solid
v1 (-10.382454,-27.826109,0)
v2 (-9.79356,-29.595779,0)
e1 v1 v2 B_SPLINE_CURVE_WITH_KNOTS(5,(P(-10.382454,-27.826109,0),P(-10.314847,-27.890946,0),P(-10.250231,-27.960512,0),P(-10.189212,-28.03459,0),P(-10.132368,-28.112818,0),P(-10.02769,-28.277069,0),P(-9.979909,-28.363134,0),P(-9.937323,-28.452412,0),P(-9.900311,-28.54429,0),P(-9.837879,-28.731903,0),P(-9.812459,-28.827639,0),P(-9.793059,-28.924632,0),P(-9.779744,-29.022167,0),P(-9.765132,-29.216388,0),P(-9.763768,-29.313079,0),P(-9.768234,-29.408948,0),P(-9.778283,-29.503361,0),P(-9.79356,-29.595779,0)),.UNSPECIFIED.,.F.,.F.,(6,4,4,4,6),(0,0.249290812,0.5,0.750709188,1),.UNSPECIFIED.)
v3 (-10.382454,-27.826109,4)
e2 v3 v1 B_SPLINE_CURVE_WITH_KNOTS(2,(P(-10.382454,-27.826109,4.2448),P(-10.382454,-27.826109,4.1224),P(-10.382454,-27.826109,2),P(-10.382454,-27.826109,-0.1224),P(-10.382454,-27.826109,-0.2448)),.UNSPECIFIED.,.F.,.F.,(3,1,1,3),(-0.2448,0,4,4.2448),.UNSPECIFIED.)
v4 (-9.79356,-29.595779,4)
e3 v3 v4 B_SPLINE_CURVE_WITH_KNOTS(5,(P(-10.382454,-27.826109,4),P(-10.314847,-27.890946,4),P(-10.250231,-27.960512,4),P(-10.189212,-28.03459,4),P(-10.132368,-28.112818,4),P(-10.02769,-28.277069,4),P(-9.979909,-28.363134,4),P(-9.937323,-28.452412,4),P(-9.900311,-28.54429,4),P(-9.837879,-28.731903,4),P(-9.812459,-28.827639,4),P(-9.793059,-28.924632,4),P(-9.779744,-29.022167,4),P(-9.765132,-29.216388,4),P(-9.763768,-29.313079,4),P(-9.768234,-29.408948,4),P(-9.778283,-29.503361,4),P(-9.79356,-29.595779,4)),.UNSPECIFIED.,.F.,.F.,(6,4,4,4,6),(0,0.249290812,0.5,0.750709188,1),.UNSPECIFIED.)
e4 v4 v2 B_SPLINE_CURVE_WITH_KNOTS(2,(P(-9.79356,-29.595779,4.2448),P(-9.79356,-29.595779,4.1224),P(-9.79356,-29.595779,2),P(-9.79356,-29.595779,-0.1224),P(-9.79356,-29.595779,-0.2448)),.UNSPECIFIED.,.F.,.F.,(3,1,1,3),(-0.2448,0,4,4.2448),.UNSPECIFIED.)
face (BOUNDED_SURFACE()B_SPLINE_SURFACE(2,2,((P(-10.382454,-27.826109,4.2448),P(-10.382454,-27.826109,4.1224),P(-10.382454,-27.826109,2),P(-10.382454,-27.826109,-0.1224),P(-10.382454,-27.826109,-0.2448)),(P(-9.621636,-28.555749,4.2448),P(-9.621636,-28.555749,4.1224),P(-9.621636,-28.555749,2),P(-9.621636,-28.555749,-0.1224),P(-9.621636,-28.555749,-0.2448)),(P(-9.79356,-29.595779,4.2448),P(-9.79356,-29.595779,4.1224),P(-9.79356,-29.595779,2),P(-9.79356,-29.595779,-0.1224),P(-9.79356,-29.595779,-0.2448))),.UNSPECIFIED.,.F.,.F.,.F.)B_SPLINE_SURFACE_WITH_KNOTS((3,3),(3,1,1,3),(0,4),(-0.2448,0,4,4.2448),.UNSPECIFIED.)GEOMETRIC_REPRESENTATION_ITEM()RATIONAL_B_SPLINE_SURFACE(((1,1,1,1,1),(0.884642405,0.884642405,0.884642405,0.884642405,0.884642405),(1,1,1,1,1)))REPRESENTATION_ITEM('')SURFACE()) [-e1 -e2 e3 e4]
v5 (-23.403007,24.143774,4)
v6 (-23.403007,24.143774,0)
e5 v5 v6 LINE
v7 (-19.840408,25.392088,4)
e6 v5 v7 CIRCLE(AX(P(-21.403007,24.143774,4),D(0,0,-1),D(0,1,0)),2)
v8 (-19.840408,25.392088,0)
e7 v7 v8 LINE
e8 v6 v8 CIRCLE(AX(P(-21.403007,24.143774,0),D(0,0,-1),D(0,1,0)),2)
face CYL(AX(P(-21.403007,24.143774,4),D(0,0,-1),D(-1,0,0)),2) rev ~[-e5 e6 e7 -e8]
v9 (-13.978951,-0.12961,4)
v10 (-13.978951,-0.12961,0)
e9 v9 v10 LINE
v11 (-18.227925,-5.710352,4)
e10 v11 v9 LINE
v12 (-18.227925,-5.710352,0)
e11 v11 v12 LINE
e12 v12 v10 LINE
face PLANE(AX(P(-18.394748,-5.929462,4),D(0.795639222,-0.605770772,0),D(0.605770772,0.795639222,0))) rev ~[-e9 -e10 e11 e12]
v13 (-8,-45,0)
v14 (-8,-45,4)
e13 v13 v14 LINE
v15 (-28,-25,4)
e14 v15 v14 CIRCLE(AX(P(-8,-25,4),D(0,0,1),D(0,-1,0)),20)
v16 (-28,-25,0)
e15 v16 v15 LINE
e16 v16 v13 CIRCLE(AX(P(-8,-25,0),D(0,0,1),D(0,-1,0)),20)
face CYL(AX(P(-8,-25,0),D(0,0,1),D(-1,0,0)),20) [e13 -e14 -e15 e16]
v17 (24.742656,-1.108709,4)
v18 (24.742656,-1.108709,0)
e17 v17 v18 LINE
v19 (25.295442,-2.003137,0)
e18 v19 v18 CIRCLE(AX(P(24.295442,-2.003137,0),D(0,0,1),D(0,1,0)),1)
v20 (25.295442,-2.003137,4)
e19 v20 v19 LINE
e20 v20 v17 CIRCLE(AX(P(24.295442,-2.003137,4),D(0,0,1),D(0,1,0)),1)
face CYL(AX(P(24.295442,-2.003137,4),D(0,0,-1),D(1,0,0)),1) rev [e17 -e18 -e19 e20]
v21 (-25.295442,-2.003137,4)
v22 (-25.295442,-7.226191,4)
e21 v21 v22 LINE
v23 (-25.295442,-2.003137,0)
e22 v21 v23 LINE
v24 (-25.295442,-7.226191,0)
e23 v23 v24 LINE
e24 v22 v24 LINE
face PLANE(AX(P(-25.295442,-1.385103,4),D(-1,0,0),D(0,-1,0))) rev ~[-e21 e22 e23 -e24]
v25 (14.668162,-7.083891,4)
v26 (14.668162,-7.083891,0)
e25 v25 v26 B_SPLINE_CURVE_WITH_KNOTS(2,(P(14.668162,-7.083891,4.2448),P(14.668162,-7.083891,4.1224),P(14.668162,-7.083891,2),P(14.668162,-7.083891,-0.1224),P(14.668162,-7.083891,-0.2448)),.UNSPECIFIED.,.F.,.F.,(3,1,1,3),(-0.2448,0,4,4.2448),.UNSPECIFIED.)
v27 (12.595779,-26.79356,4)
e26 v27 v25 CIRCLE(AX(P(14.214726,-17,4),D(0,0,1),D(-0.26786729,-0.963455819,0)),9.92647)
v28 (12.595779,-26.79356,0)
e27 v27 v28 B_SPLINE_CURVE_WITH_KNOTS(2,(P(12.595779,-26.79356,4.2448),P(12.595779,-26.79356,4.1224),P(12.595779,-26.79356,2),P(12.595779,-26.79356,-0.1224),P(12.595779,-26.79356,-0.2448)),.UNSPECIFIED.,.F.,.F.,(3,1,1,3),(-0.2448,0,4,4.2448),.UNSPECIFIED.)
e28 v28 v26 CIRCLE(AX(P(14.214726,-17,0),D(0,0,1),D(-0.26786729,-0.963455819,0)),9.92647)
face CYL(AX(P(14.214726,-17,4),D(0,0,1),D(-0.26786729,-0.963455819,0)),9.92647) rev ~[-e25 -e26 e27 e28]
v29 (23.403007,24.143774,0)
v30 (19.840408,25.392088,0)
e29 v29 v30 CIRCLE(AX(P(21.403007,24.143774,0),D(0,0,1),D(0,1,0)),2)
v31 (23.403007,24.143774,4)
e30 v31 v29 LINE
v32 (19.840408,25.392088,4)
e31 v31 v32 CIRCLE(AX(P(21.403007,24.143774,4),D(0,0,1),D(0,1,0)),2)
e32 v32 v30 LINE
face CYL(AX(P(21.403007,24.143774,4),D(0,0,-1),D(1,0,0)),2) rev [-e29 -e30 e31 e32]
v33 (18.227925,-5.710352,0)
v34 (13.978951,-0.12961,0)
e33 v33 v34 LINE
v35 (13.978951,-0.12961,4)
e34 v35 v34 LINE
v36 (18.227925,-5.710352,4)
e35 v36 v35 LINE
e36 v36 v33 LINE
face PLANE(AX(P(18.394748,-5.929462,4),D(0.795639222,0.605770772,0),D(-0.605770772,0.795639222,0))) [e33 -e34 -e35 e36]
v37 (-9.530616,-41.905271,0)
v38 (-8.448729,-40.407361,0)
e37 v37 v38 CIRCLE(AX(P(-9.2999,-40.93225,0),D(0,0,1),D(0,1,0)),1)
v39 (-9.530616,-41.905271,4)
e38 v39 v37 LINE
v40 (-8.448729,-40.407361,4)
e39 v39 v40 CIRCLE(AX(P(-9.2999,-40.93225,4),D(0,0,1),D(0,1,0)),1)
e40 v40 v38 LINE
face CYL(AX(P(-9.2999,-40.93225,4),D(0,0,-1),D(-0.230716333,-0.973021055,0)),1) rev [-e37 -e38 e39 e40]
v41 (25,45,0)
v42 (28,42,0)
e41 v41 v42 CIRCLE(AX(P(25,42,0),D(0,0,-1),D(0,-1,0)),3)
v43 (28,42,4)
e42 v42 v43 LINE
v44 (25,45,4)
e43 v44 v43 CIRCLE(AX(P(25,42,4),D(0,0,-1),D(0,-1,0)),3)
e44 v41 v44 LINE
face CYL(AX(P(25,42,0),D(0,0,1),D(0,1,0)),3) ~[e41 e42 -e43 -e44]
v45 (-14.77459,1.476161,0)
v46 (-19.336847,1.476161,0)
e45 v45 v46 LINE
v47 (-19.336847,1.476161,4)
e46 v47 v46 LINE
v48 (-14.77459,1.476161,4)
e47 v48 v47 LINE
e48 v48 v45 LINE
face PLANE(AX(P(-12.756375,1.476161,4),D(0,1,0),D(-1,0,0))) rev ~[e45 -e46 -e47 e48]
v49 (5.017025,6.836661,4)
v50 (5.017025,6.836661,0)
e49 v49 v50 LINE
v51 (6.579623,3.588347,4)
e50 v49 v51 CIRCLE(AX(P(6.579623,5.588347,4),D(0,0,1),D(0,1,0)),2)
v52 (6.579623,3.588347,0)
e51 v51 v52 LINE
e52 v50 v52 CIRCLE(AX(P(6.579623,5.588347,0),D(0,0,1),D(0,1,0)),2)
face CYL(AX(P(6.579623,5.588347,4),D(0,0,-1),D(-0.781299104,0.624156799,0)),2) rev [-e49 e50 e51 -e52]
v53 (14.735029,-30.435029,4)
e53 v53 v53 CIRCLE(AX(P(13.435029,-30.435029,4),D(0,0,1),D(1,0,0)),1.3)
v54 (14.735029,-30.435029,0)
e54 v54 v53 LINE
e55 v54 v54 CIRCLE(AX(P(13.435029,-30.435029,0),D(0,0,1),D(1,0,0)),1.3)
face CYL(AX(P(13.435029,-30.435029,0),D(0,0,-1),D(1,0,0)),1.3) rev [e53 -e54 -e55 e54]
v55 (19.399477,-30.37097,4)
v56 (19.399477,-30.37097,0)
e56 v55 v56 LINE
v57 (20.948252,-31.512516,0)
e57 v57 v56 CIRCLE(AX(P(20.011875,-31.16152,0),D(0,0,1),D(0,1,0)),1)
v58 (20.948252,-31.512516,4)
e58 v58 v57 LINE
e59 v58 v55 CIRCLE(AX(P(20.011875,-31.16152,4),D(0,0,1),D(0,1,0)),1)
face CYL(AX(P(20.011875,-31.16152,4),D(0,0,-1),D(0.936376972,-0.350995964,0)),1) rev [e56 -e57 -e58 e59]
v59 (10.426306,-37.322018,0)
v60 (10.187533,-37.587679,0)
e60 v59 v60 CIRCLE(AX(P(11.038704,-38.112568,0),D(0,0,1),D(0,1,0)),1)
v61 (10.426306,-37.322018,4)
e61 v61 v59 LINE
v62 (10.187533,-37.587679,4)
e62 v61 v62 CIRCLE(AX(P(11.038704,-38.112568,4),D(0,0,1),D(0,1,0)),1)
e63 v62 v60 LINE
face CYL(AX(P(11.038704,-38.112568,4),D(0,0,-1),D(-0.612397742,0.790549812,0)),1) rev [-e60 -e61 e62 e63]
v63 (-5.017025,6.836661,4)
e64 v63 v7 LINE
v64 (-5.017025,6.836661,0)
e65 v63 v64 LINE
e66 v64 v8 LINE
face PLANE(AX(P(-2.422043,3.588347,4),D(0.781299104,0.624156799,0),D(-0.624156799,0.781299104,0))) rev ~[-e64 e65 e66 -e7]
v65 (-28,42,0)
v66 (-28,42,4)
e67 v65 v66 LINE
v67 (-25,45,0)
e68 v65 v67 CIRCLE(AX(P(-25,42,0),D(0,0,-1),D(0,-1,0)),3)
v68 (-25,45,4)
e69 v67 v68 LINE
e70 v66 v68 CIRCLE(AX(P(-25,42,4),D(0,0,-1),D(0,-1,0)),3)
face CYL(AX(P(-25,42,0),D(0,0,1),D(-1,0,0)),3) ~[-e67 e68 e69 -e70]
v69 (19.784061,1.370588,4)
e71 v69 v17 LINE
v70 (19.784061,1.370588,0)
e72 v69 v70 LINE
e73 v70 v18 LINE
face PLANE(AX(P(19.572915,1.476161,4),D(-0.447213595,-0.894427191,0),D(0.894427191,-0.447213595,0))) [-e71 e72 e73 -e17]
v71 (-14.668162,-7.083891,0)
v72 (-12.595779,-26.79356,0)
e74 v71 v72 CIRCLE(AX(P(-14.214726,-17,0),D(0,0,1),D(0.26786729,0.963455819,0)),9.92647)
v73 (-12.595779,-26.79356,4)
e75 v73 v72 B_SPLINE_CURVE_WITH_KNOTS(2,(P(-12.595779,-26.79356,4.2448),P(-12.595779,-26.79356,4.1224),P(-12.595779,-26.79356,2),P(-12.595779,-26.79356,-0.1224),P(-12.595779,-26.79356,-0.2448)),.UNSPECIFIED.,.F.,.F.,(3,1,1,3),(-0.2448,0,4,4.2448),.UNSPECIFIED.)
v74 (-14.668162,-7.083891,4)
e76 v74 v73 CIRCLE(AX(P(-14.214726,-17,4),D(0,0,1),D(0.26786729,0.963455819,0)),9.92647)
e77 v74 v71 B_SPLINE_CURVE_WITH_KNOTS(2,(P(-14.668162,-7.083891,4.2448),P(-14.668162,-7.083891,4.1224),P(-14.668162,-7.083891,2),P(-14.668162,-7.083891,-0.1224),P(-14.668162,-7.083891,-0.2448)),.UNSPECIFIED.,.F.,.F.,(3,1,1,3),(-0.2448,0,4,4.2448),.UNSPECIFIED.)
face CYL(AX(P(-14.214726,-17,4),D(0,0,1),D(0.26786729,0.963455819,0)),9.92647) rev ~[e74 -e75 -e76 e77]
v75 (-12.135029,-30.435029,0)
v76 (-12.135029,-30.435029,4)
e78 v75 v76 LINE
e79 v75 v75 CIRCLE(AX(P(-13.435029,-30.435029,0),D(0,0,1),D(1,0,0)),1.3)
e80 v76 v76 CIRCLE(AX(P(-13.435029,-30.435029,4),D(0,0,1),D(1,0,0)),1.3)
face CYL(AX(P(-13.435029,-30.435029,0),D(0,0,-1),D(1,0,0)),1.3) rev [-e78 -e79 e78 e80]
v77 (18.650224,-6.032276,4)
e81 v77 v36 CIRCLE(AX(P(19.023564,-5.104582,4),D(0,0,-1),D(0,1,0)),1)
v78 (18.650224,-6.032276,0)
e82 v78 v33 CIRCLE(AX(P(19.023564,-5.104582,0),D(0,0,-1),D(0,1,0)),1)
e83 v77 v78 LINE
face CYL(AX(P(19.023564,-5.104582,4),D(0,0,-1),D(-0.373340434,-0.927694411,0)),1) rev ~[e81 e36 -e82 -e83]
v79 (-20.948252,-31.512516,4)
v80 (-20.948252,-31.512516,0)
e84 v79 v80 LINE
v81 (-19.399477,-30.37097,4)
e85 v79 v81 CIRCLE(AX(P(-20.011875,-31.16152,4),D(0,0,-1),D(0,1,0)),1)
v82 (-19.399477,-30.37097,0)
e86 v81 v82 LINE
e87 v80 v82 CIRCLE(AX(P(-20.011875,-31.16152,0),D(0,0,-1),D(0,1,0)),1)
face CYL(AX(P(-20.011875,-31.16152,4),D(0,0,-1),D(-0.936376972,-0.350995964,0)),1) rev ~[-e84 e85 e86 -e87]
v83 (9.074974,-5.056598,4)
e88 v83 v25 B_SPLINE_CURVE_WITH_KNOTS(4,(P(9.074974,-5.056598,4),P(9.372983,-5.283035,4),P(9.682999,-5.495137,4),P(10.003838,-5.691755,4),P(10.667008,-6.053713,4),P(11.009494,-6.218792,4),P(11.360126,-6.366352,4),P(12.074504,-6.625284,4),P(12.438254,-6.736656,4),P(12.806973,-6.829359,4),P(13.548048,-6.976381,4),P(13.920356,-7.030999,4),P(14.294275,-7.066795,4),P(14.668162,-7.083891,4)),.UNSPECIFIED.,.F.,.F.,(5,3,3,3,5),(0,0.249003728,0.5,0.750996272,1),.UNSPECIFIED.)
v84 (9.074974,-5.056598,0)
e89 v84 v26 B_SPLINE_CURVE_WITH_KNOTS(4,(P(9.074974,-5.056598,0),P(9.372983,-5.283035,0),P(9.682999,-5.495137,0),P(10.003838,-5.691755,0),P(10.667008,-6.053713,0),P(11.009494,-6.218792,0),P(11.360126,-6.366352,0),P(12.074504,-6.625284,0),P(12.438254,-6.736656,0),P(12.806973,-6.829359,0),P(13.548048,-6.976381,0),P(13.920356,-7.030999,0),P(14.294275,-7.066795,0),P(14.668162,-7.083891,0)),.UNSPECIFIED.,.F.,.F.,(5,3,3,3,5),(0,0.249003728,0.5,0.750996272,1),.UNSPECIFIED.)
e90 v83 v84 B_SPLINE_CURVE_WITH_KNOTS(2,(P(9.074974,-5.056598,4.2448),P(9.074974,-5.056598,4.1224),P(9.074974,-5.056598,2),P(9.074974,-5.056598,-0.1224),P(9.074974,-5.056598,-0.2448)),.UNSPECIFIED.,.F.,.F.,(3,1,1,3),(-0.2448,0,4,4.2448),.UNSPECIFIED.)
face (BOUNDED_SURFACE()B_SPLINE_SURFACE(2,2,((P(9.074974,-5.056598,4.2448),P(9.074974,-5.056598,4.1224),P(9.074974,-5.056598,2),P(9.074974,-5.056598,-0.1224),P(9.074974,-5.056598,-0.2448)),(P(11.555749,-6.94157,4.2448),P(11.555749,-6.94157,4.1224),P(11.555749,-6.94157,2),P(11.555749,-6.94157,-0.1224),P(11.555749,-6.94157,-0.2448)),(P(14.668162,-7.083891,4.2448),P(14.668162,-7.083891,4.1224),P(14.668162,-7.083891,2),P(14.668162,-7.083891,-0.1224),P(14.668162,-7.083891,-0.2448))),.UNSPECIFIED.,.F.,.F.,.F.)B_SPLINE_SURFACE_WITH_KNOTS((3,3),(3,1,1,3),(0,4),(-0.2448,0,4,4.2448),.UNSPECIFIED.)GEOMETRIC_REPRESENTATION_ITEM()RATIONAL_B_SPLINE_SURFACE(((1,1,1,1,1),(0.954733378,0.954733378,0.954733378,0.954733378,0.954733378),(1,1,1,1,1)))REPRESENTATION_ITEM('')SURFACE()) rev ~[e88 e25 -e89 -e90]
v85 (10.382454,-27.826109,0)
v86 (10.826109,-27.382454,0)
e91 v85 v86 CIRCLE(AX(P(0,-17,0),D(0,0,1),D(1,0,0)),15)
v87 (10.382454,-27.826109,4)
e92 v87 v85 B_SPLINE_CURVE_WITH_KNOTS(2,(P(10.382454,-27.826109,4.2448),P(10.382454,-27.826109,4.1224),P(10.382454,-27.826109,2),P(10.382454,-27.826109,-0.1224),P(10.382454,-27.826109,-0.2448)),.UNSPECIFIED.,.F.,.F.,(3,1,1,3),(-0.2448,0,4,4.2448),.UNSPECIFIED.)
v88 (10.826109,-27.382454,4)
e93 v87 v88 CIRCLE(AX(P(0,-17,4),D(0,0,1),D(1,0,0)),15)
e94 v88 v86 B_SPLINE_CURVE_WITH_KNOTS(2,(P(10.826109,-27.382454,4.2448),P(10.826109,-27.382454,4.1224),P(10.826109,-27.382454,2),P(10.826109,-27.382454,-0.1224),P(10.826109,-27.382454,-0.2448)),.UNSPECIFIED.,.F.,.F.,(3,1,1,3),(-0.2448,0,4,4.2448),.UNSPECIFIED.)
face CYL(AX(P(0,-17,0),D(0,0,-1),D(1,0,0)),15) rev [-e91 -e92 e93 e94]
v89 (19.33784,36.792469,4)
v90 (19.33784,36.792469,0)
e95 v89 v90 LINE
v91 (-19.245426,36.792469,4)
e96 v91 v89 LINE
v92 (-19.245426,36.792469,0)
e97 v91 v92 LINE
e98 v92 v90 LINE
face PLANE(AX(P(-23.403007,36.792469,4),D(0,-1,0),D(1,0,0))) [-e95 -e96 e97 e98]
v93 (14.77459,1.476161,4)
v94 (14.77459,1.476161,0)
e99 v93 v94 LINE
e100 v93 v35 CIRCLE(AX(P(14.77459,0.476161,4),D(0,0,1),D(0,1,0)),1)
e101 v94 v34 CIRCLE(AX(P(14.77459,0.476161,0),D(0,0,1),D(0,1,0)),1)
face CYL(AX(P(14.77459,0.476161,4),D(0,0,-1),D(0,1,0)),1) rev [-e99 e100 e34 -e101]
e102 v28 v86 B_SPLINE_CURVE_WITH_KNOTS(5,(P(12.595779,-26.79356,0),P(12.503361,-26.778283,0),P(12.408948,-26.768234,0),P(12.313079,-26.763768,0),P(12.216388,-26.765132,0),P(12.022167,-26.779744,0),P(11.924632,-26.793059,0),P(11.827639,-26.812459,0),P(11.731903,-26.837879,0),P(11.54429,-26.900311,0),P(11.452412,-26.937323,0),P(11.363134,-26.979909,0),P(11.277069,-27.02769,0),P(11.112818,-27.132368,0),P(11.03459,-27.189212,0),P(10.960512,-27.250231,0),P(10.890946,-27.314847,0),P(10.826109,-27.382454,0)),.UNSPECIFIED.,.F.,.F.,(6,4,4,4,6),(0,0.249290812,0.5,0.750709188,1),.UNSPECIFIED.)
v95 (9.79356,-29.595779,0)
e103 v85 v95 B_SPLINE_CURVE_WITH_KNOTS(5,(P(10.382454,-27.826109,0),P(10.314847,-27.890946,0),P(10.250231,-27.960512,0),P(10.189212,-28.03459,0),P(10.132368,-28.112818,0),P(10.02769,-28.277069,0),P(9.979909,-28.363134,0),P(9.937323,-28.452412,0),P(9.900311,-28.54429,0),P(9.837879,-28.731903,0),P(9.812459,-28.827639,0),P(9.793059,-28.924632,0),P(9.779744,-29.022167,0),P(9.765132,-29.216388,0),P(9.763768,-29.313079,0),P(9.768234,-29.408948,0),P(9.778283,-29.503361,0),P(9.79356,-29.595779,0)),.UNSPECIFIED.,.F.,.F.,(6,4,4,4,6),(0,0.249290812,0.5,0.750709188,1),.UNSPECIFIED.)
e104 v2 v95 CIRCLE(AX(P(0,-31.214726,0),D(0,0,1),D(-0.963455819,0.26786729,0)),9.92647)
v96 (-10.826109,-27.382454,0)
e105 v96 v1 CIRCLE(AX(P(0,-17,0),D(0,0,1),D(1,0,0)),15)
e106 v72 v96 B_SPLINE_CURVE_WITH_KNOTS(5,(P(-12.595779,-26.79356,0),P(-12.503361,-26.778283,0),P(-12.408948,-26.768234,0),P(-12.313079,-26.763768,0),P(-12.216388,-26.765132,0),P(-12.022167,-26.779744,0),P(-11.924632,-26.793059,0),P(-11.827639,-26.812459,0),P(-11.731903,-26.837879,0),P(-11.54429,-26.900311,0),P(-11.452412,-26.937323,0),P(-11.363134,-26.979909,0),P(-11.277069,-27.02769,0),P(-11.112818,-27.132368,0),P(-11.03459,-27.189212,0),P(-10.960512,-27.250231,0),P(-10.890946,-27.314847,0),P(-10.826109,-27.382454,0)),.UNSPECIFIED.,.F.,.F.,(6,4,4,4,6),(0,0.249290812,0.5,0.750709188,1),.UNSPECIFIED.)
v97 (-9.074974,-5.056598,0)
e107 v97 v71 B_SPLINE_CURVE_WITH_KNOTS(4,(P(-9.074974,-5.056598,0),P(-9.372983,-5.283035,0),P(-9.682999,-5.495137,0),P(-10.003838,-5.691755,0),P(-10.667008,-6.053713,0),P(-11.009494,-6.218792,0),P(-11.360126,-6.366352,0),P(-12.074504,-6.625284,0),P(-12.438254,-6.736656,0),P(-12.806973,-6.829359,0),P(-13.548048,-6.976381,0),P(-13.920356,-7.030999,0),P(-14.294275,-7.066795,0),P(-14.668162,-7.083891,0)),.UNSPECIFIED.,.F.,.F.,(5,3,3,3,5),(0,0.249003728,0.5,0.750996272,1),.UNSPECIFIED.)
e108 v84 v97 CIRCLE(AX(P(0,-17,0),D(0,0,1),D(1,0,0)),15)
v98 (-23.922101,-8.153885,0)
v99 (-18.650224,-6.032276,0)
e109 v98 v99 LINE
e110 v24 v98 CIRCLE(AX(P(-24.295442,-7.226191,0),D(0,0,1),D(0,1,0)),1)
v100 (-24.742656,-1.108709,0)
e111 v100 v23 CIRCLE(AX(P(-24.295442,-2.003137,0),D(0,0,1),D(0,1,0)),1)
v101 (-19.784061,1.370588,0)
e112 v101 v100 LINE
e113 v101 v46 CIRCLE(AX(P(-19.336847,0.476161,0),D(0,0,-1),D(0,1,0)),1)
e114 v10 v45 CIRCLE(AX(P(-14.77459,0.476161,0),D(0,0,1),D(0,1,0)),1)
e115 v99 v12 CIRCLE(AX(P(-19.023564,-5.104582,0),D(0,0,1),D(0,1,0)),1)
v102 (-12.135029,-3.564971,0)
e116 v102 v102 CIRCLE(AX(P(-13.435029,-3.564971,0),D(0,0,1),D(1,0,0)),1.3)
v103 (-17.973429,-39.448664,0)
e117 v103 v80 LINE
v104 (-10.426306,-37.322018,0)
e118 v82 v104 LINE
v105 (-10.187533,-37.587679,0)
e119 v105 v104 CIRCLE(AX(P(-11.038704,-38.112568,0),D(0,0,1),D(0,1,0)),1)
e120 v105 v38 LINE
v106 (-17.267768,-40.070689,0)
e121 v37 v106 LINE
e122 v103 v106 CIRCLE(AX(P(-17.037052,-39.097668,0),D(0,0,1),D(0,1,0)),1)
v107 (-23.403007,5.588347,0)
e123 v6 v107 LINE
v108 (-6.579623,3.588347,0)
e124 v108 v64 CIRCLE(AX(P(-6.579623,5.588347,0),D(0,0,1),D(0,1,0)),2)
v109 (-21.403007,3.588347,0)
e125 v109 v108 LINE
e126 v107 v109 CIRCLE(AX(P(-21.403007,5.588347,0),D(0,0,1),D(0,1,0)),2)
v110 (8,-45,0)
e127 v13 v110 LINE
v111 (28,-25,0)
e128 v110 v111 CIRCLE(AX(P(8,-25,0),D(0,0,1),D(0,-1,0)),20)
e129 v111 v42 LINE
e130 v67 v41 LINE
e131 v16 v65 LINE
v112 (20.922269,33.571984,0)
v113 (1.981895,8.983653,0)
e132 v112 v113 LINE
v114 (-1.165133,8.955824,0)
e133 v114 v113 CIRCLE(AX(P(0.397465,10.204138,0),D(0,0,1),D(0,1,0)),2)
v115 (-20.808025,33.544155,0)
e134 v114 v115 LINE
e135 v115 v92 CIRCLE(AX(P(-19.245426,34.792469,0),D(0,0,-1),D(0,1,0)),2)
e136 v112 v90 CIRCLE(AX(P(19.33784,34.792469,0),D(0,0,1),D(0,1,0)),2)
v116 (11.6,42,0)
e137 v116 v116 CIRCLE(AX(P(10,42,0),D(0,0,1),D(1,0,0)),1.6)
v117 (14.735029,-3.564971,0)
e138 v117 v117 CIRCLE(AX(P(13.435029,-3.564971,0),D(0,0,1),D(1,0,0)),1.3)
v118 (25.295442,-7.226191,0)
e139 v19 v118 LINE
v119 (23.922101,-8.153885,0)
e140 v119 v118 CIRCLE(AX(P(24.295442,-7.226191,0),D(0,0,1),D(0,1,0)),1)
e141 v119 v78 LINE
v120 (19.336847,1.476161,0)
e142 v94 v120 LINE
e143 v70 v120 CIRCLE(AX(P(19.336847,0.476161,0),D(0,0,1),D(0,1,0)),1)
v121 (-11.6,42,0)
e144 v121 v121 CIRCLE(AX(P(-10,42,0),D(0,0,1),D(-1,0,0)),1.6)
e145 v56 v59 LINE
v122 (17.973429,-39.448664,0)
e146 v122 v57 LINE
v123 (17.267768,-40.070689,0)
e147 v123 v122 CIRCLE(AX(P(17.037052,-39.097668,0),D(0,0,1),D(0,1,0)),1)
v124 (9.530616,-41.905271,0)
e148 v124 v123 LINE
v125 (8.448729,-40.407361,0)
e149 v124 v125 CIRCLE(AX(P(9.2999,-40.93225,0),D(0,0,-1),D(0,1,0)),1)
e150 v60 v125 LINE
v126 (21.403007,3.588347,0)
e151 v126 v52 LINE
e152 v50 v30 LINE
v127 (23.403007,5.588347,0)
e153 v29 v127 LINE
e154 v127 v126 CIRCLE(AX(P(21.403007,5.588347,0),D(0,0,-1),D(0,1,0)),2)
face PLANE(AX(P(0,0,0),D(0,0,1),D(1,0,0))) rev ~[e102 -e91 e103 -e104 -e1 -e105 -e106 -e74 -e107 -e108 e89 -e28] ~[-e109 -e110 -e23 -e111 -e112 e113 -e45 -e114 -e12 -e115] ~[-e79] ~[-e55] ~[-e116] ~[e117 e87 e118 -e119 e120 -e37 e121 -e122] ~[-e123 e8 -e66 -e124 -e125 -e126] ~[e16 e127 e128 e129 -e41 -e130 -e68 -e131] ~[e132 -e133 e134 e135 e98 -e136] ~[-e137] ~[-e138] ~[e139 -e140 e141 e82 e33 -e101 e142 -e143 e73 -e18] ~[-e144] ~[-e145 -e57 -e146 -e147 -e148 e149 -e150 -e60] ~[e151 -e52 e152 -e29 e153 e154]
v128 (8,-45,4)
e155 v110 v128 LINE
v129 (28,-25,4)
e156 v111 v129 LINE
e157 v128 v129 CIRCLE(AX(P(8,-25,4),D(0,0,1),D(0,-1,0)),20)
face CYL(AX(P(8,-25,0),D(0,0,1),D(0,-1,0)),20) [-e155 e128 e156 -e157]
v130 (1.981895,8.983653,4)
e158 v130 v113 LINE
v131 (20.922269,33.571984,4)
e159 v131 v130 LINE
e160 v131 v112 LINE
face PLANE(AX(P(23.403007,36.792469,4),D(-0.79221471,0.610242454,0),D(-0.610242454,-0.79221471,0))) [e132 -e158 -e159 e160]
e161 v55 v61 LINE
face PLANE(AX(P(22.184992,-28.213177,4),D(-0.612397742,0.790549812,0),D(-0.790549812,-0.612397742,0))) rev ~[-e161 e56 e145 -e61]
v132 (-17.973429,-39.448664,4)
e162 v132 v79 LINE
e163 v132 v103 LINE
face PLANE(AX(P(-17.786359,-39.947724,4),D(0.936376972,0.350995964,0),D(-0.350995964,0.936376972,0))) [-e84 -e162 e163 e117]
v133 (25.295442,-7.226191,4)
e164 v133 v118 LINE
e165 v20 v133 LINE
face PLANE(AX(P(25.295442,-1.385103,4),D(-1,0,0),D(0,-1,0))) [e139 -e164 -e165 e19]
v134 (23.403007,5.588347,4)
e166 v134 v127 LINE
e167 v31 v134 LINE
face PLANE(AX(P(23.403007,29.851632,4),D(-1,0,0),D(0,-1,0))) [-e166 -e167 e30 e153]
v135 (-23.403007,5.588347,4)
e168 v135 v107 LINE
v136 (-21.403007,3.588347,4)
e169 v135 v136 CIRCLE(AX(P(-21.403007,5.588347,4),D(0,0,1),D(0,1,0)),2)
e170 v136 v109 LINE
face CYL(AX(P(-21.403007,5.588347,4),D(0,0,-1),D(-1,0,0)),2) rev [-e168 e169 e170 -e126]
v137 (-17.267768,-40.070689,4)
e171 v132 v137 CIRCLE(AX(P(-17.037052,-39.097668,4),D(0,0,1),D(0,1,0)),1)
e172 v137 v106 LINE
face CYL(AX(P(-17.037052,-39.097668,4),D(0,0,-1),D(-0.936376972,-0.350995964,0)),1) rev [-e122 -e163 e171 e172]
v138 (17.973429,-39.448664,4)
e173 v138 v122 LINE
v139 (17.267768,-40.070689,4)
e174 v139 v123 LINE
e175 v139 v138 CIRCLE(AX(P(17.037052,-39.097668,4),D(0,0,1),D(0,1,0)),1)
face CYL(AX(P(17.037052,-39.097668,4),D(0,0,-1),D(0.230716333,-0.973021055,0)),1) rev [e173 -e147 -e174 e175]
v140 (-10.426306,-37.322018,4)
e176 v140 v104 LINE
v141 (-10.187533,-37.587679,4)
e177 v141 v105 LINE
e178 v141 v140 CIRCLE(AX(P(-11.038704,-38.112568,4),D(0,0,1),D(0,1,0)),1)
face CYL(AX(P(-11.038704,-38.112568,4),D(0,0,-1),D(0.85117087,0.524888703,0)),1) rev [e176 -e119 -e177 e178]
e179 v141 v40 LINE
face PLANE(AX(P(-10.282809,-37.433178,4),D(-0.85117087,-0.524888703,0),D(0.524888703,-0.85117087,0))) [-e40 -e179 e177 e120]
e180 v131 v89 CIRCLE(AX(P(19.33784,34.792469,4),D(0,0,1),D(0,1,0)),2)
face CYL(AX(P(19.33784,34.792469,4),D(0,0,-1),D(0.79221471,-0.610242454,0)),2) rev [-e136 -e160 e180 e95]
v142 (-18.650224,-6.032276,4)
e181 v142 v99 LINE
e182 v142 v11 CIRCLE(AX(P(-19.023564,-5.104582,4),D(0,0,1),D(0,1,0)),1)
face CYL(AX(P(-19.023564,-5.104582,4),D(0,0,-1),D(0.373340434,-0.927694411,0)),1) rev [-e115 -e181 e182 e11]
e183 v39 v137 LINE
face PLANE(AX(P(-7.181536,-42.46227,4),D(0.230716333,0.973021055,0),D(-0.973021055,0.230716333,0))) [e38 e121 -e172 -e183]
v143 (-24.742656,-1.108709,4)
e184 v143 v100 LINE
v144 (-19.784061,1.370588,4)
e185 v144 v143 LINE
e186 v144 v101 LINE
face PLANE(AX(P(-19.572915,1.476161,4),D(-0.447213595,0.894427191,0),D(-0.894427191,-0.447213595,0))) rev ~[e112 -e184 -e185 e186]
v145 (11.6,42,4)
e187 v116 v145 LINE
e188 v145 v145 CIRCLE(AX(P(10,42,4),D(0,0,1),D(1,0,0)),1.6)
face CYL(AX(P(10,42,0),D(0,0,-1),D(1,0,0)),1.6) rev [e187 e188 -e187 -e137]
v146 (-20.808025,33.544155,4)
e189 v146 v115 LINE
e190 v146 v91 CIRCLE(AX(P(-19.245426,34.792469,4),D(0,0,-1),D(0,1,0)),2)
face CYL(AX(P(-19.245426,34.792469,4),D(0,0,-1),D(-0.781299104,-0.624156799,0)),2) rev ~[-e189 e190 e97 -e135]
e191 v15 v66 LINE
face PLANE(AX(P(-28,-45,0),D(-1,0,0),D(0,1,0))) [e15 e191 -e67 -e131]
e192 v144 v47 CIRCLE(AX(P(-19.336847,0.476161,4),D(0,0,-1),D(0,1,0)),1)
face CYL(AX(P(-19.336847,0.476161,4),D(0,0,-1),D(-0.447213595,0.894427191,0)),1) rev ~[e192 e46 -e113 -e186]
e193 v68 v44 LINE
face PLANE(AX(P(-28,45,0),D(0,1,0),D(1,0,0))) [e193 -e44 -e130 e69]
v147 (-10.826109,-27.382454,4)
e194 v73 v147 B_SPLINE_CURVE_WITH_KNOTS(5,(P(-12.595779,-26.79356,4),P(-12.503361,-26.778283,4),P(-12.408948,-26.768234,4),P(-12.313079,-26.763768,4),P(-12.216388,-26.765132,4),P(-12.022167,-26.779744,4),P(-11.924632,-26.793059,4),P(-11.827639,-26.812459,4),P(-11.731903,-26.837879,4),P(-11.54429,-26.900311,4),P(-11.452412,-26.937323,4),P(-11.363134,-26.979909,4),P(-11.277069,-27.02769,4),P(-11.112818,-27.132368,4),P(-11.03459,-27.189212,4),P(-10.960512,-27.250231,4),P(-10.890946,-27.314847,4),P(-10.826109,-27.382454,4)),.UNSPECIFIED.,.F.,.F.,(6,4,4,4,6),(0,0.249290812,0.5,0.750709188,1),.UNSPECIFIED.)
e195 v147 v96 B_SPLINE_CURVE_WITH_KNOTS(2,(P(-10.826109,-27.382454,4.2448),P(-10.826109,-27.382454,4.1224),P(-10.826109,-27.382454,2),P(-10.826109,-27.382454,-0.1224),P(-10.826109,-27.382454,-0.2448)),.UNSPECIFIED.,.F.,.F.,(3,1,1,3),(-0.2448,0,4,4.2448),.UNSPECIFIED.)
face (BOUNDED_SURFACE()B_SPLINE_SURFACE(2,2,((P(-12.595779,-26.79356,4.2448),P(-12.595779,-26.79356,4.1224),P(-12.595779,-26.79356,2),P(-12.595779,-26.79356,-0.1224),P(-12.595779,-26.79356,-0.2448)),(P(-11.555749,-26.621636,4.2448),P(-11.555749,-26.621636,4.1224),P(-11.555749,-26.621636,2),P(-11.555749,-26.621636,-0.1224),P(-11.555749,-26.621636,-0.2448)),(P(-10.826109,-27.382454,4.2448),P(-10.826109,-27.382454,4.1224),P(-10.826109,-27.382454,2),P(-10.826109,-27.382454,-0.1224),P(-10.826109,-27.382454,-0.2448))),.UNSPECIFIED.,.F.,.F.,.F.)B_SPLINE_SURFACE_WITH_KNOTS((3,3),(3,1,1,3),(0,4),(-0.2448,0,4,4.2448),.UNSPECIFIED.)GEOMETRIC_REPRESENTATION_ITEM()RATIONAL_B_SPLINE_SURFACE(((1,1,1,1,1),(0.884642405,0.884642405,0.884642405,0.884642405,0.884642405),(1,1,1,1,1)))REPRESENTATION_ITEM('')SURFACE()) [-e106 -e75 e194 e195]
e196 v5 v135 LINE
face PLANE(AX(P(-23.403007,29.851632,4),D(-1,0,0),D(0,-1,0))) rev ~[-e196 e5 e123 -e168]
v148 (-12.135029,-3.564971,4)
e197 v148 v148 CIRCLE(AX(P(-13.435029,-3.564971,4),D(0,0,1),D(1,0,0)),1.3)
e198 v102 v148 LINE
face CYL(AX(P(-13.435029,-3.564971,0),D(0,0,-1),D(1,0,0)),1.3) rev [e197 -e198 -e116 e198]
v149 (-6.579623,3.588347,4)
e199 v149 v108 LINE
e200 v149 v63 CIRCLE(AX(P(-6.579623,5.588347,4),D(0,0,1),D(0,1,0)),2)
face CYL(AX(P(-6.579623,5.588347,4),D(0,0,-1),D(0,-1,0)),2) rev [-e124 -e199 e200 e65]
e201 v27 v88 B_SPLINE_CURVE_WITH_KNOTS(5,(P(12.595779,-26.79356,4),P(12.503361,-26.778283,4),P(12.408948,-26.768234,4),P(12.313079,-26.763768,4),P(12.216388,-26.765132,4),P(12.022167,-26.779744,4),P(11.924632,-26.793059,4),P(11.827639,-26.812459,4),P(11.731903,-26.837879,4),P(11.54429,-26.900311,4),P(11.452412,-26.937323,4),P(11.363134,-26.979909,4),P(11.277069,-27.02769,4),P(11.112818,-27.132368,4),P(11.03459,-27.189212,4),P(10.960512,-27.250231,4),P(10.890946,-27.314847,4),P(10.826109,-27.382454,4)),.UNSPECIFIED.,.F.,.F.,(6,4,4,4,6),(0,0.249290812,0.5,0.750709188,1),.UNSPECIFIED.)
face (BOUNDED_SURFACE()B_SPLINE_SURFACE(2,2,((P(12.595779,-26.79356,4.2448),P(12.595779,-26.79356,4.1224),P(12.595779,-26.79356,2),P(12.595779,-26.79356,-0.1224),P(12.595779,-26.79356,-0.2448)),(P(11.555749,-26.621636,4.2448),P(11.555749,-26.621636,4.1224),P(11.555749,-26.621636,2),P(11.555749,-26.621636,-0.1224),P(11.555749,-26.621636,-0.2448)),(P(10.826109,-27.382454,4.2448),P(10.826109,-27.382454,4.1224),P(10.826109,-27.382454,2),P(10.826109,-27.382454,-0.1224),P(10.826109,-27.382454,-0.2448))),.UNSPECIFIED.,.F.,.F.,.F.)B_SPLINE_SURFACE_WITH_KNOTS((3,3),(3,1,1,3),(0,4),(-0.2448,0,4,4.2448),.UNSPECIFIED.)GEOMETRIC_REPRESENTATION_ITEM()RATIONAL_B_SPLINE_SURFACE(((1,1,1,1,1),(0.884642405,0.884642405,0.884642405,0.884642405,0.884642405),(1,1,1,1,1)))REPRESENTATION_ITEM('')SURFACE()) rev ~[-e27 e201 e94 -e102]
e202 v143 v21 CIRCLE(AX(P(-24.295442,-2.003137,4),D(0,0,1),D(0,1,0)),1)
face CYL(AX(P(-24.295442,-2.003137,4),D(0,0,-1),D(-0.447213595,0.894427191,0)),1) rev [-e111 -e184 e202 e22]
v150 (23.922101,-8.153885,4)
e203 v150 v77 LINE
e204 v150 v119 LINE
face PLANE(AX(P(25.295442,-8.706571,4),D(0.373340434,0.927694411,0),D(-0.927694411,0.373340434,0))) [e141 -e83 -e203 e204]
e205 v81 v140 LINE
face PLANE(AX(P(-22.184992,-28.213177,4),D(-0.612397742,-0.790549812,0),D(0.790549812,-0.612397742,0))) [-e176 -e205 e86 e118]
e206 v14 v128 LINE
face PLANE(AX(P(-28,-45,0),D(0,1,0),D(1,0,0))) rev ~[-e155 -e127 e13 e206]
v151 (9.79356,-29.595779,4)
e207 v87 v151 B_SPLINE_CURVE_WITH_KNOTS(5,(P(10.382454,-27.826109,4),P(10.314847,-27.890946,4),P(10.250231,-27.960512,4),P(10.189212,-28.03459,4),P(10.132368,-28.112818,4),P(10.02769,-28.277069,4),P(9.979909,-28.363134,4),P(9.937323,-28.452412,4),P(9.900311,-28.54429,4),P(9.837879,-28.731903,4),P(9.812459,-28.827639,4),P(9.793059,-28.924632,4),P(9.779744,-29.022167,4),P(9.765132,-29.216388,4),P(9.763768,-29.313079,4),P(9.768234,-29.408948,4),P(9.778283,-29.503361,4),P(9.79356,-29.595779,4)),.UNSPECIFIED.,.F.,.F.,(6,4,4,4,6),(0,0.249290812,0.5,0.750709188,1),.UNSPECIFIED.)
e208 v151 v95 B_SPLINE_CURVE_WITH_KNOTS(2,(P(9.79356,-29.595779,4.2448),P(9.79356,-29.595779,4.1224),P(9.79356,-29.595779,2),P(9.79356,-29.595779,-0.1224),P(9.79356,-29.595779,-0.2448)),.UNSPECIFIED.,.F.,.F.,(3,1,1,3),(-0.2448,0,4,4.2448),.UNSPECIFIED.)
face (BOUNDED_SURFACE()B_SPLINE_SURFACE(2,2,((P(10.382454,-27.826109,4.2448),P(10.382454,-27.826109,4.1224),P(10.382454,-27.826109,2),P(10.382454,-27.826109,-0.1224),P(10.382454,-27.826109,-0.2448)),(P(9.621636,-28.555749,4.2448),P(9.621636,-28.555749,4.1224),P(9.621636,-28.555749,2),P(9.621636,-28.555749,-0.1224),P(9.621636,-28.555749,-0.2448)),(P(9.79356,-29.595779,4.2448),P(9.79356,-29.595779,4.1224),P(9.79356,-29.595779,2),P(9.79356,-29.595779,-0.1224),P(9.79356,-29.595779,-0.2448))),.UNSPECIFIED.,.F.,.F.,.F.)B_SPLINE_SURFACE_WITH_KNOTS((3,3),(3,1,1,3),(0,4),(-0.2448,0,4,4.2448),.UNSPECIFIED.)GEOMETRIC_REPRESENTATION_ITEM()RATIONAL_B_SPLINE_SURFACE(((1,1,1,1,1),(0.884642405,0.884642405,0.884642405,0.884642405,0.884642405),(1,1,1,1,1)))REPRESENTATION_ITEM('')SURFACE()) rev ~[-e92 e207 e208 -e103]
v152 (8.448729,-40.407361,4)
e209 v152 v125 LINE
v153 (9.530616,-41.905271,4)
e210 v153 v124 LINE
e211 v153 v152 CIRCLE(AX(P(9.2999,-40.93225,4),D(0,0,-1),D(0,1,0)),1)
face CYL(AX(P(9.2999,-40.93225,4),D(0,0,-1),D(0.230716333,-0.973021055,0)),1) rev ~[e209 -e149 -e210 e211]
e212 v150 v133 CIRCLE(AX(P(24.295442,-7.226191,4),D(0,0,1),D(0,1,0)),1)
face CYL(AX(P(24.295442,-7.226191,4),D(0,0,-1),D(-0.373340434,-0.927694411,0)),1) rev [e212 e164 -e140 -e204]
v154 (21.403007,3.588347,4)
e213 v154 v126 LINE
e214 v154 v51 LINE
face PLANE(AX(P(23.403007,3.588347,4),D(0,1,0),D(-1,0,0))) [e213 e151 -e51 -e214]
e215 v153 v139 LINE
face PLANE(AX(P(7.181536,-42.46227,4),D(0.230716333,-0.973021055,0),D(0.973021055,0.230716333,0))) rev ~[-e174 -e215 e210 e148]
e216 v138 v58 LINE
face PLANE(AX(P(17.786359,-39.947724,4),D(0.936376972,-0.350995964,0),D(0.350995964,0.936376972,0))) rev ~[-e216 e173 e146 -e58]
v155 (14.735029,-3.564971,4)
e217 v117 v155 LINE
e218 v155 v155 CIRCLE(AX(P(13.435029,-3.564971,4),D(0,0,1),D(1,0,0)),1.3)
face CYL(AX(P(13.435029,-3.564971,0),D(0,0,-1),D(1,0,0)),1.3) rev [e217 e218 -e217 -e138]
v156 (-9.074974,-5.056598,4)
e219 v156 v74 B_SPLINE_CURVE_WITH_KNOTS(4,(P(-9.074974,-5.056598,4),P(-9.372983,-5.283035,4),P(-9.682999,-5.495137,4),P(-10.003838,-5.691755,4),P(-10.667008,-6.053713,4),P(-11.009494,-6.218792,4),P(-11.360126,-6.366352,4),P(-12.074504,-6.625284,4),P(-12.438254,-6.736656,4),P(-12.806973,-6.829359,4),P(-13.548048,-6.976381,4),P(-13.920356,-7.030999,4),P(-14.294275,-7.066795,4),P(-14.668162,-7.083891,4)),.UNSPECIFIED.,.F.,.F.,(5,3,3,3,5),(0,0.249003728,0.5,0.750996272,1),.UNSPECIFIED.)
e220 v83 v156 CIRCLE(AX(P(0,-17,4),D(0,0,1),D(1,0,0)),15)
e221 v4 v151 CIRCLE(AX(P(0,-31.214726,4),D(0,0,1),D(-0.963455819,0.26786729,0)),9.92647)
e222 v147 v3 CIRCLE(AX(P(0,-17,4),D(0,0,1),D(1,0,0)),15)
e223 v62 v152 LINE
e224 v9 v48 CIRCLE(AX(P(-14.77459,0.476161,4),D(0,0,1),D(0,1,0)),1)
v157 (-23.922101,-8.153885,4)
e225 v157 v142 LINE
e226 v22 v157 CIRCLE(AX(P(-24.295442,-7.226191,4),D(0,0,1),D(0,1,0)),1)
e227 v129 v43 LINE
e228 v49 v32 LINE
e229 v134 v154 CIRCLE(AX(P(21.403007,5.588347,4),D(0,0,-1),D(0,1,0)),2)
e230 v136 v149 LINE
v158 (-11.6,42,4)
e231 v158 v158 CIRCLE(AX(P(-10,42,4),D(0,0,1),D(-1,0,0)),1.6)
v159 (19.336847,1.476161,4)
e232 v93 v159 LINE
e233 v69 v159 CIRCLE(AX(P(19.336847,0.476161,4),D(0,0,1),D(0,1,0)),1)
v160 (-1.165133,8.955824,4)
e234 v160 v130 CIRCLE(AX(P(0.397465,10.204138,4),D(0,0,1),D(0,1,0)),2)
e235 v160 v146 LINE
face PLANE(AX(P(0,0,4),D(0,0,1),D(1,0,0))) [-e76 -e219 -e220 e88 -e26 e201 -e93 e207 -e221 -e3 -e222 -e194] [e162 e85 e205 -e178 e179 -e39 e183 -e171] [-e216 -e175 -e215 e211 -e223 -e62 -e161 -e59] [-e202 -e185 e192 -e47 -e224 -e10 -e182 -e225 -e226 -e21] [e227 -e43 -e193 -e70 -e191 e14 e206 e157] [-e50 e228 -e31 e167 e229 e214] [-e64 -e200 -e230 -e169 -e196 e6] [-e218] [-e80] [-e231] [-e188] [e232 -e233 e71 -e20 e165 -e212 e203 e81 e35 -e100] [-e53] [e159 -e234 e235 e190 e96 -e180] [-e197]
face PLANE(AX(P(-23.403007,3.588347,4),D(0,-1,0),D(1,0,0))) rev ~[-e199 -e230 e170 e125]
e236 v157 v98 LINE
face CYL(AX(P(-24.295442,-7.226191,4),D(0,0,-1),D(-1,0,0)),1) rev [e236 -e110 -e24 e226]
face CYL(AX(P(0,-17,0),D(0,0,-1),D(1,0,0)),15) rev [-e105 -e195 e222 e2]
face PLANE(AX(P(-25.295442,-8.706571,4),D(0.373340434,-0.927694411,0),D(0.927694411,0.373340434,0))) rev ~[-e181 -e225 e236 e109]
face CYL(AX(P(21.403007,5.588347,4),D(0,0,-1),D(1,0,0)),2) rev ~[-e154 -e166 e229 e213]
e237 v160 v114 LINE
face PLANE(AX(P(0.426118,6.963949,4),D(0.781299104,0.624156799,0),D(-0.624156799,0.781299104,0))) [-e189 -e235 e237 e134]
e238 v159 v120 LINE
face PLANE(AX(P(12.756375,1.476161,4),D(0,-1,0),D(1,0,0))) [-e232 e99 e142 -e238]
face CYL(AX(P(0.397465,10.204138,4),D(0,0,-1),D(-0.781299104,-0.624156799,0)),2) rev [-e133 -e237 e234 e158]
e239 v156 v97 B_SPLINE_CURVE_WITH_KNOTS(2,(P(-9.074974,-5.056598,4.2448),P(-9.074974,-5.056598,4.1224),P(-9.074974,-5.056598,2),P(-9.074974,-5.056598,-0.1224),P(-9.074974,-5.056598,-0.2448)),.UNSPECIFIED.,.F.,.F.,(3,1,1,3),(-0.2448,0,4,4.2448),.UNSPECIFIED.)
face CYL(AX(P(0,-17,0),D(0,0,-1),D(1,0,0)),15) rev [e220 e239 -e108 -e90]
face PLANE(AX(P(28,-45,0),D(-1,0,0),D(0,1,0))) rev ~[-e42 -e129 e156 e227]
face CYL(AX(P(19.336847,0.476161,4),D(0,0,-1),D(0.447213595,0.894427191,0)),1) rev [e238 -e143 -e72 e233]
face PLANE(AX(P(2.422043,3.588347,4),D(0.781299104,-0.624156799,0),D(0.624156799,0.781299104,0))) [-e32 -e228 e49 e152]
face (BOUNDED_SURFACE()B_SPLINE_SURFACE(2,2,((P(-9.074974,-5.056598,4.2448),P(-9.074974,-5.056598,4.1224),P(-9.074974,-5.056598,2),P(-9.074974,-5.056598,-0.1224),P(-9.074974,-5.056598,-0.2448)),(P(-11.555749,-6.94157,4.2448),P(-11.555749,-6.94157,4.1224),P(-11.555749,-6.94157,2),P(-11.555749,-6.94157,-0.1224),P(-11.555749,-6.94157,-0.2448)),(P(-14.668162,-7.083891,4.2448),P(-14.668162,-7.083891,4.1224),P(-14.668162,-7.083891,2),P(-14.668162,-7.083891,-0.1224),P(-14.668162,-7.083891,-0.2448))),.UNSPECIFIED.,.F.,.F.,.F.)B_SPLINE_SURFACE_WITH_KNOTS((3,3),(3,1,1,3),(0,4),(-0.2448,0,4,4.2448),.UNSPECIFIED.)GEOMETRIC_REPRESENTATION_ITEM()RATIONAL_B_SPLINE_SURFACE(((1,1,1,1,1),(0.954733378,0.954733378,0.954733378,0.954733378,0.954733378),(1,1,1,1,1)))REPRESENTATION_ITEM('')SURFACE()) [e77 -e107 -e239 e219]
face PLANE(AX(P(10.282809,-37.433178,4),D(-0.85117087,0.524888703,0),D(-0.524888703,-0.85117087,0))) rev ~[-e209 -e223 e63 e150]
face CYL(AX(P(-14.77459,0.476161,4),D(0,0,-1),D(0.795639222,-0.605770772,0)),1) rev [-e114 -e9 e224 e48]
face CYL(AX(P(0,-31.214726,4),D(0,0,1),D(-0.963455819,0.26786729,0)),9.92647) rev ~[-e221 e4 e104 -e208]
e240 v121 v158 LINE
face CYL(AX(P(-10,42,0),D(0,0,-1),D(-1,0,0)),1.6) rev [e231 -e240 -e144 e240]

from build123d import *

# Parameters (mm, degrees)
SKETCH_1_W          = 56
SKETCH_1_H          = 90
SKETCH_1_R          = 1.6
SKETCH_1_R_2        = 1.3
SKETCH_1_R_3        = 15
EXTRUDE_1_DEPTH     = 4
FILLET_1_R          = 20
CUT_EXTRUDE_1_DEPTH = 54.150729064
FILLET_2_R          = 2
FILLET_3_R          = 3
CUT_EXTRUDE_2_DEPTH = 54.150729064
FILLET_4_R          = 10
FILLET_5_R          = 2
CUT_EXTRUDE_3_DEPTH = 54.150729209
FILLET_6_R          = 1
CUT_EXTRUDE_4_DEPTH = 54.150729209
FILLET_7_R          = 1


with BuildPart() as part:
    # 草图1 → 凸台-拉伸1 (new body)
    with BuildSketch(Plane.XY):
        Rectangle(SKETCH_1_W, SKETCH_1_H)
        with Locations((10, 42)):
            Circle(SKETCH_1_R, mode=Mode.SUBTRACT)
        with Locations(Location((-10, 42, 0), (0, 0, 180))):
            Circle(SKETCH_1_R, mode=Mode.SUBTRACT)
        with Locations((13.435028843, -3.564971157)):
            Circle(SKETCH_1_R_2, mode=Mode.SUBTRACT)
        with Locations((13.435028843, -30.435028843)):
            Circle(SKETCH_1_R_2, mode=Mode.SUBTRACT)
        with Locations((-13.435028843, -30.435028843)):
            Circle(SKETCH_1_R_2, mode=Mode.SUBTRACT)
        with Locations((-13.435028843, -3.564971157)):
            Circle(SKETCH_1_R_2, mode=Mode.SUBTRACT)
        with Locations((0, -17)):
            Circle(SKETCH_1_R_3, mode=Mode.SUBTRACT)
    extrude(amount=EXTRUDE_1_DEPTH)

    # 圆角1
    fillet_1_edges = [part.edges().sort_by_distance(p)[0] for p in [
        (28, -45, 2),
        (-28, -45, 2),
    ]]
    fillet(fillet_1_edges, radius=FILLET_1_R)

    # 草图2 → 切除-拉伸1 (cut, through all)
    with BuildSketch(Plane.XY.offset(4)):
        Polygon((-23.403006558, 36.792468572), (23.403006558, 36.792468572), (0.426117862, 6.963948605), align=None)
        Polygon((-23.403006558, 29.851631864), (-23.403006558, 3.588347177), (-2.422043399, 3.588347177), align=None)
        Polygon((23.403006558, 3.588347177), (2.422043399, 3.588347177), (23.403006558, 29.851631864), align=None)
    extrude(amount=-CUT_EXTRUDE_1_DEPTH, mode=Mode.SUBTRACT)

    # 圆角2
    fillet_2_edges = [part.edges().sort_by_distance(p)[0] for p in [
        (23.403006558, 29.851631864, 2),
        (23.403006558, 3.588347177, 2),
        (2.422043399, 3.588347177, 2),
        (-23.403006558, 29.851631864, 2),
        (-2.422043399, 3.588347177, 2),
        (-23.403006558, 3.588347177, 2),
        (0.426117862, 6.963948605, 2),
        (-23.403006558, 36.792468572, 2),
        (23.403006558, 36.792468572, 2),
    ]]
    fillet(fillet_2_edges, radius=FILLET_2_R)

    # 圆角3
    fillet_3_edges = [part.edges().sort_by_distance(p)[0] for p in [
        (-28, 45, 2),
        (28, 45, 2),
    ]]
    fillet(fillet_3_edges, radius=FILLET_3_R)

    # 草图3 → 切除-拉伸2 (cut, through all)
    with BuildSketch(Plane.XY.offset(4)):
        with BuildLine():
            ThreePointArc((-9.563715622, -28.55574937), (0, -41.141196435), (9.563715622, -28.55574937))
            ThreePointArc((9.563715622, -28.55574937), (0, -32), (-9.563715622, -28.55574937))
        make_face()
        with BuildLine():
            ThreePointArc((-11.55574937, -7.436284378), (-24.141196435, -17), (-11.55574937, -26.563715622))
            ThreePointArc((-11.55574937, -26.563715622), (-15, -17), (-11.55574937, -7.436284378))
        make_face()
        with BuildLine():
            ThreePointArc((11.55574937, -26.563715622), (24.141196435, -17), (11.55574937, -7.436284378))
            ThreePointArc((11.55574937, -7.436284378), (15, -17), (11.55574937, -26.563715622))
        make_face()
    extrude(amount=-CUT_EXTRUDE_2_DEPTH, mode=Mode.SUBTRACT)

    # 圆角4
    fillet_4_edges = [part.edges().sort_by_distance(p)[0] for p in [
        (-11.55574937, -7.436284378, 2),
        (11.55574937, -7.436284378, 2),
    ]]
    fillet(fillet_4_edges, radius=FILLET_4_R)

    # 圆角5
    fillet_5_edges = [part.edges().sort_by_distance(p)[0] for p in [
        (-9.563715622, -28.55574937, 2),
        (9.563715622, -28.55574937, 2),
        (-11.55574937, -26.563715622, 2),
        (11.55574937, -26.563715622, 2),
    ]]
    fillet(fillet_5_edges, radius=FILLET_5_R)

    # 草图4 → 切除-拉伸3 (cut, through all)
    with BuildSketch(Plane.XY.offset(4)):
        Polygon((-22.184991746, -28.213177479), (-10.282808815, -37.433178341), (-7.181535798, -42.46226972), (-17.786358924, -39.94772403), align=None)
        Polygon((7.181535798, -42.46226972), (17.786358924, -39.94772403), (22.184991746, -28.213177479), (10.282808815, -37.433178341), align=None)
    extrude(amount=-CUT_EXTRUDE_3_DEPTH, mode=Mode.SUBTRACT)

    # 圆角6
    fillet_6_edges = [part.edges().sort_by_distance(p)[0] for p in [
        (-17.786358924, -39.94772403, 2),
        (-22.184991746, -28.213177479, 2),
        (-10.282808815, -37.433178341, 2),
        (-7.181535798, -42.46226972, 2),
        (7.181535798, -42.46226972, 2),
        (10.282808815, -37.433178341, 2),
        (22.184991746, -28.213177479, 2),
        (17.786358924, -39.94772403, 2),
    ]]
    fillet(fillet_6_edges, radius=FILLET_6_R)

    # 草图5 → 切除-拉伸4 (cut, through all)
    with BuildSketch(Plane.XY.offset(4)):
        Polygon((-19.572914927, 1.476160836), (-25.295441932, -1.385102666), (-25.295441932, -8.70657104), (-18.394747603, -5.929462346), (-12.756375408, 1.476160836), align=None)
        Polygon((18.394747603, -5.929462346), (12.756375408, 1.476160836), (19.572914927, 1.476160836), (25.295441932, -1.385102666), (25.295441932, -8.70657104), align=None)
    extrude(amount=-CUT_EXTRUDE_4_DEPTH, mode=Mode.SUBTRACT)

    # 圆角7
    fillet_7_edges = [part.edges().sort_by_distance(p)[0] for p in [
        (-19.572914927, 1.476160836, 2),
        (-12.756375408, 1.476160836, 2),
        (-18.394747603, -5.929462346, 2),
        (-25.295441932, -8.70657104, 2),
        (-25.295441932, -1.385102666, 2),
        (25.295441932, -8.70657104, 2),
        (18.394747603, -5.929462346, 2),
        (12.756375408, 1.476160836, 2),
        (19.572914927, 1.476160836, 2),
        (25.295441932, -1.385102666, 2),
    ]]
    fillet(fillet_7_edges, radius=FILLET_7_R)


solid = part.part
